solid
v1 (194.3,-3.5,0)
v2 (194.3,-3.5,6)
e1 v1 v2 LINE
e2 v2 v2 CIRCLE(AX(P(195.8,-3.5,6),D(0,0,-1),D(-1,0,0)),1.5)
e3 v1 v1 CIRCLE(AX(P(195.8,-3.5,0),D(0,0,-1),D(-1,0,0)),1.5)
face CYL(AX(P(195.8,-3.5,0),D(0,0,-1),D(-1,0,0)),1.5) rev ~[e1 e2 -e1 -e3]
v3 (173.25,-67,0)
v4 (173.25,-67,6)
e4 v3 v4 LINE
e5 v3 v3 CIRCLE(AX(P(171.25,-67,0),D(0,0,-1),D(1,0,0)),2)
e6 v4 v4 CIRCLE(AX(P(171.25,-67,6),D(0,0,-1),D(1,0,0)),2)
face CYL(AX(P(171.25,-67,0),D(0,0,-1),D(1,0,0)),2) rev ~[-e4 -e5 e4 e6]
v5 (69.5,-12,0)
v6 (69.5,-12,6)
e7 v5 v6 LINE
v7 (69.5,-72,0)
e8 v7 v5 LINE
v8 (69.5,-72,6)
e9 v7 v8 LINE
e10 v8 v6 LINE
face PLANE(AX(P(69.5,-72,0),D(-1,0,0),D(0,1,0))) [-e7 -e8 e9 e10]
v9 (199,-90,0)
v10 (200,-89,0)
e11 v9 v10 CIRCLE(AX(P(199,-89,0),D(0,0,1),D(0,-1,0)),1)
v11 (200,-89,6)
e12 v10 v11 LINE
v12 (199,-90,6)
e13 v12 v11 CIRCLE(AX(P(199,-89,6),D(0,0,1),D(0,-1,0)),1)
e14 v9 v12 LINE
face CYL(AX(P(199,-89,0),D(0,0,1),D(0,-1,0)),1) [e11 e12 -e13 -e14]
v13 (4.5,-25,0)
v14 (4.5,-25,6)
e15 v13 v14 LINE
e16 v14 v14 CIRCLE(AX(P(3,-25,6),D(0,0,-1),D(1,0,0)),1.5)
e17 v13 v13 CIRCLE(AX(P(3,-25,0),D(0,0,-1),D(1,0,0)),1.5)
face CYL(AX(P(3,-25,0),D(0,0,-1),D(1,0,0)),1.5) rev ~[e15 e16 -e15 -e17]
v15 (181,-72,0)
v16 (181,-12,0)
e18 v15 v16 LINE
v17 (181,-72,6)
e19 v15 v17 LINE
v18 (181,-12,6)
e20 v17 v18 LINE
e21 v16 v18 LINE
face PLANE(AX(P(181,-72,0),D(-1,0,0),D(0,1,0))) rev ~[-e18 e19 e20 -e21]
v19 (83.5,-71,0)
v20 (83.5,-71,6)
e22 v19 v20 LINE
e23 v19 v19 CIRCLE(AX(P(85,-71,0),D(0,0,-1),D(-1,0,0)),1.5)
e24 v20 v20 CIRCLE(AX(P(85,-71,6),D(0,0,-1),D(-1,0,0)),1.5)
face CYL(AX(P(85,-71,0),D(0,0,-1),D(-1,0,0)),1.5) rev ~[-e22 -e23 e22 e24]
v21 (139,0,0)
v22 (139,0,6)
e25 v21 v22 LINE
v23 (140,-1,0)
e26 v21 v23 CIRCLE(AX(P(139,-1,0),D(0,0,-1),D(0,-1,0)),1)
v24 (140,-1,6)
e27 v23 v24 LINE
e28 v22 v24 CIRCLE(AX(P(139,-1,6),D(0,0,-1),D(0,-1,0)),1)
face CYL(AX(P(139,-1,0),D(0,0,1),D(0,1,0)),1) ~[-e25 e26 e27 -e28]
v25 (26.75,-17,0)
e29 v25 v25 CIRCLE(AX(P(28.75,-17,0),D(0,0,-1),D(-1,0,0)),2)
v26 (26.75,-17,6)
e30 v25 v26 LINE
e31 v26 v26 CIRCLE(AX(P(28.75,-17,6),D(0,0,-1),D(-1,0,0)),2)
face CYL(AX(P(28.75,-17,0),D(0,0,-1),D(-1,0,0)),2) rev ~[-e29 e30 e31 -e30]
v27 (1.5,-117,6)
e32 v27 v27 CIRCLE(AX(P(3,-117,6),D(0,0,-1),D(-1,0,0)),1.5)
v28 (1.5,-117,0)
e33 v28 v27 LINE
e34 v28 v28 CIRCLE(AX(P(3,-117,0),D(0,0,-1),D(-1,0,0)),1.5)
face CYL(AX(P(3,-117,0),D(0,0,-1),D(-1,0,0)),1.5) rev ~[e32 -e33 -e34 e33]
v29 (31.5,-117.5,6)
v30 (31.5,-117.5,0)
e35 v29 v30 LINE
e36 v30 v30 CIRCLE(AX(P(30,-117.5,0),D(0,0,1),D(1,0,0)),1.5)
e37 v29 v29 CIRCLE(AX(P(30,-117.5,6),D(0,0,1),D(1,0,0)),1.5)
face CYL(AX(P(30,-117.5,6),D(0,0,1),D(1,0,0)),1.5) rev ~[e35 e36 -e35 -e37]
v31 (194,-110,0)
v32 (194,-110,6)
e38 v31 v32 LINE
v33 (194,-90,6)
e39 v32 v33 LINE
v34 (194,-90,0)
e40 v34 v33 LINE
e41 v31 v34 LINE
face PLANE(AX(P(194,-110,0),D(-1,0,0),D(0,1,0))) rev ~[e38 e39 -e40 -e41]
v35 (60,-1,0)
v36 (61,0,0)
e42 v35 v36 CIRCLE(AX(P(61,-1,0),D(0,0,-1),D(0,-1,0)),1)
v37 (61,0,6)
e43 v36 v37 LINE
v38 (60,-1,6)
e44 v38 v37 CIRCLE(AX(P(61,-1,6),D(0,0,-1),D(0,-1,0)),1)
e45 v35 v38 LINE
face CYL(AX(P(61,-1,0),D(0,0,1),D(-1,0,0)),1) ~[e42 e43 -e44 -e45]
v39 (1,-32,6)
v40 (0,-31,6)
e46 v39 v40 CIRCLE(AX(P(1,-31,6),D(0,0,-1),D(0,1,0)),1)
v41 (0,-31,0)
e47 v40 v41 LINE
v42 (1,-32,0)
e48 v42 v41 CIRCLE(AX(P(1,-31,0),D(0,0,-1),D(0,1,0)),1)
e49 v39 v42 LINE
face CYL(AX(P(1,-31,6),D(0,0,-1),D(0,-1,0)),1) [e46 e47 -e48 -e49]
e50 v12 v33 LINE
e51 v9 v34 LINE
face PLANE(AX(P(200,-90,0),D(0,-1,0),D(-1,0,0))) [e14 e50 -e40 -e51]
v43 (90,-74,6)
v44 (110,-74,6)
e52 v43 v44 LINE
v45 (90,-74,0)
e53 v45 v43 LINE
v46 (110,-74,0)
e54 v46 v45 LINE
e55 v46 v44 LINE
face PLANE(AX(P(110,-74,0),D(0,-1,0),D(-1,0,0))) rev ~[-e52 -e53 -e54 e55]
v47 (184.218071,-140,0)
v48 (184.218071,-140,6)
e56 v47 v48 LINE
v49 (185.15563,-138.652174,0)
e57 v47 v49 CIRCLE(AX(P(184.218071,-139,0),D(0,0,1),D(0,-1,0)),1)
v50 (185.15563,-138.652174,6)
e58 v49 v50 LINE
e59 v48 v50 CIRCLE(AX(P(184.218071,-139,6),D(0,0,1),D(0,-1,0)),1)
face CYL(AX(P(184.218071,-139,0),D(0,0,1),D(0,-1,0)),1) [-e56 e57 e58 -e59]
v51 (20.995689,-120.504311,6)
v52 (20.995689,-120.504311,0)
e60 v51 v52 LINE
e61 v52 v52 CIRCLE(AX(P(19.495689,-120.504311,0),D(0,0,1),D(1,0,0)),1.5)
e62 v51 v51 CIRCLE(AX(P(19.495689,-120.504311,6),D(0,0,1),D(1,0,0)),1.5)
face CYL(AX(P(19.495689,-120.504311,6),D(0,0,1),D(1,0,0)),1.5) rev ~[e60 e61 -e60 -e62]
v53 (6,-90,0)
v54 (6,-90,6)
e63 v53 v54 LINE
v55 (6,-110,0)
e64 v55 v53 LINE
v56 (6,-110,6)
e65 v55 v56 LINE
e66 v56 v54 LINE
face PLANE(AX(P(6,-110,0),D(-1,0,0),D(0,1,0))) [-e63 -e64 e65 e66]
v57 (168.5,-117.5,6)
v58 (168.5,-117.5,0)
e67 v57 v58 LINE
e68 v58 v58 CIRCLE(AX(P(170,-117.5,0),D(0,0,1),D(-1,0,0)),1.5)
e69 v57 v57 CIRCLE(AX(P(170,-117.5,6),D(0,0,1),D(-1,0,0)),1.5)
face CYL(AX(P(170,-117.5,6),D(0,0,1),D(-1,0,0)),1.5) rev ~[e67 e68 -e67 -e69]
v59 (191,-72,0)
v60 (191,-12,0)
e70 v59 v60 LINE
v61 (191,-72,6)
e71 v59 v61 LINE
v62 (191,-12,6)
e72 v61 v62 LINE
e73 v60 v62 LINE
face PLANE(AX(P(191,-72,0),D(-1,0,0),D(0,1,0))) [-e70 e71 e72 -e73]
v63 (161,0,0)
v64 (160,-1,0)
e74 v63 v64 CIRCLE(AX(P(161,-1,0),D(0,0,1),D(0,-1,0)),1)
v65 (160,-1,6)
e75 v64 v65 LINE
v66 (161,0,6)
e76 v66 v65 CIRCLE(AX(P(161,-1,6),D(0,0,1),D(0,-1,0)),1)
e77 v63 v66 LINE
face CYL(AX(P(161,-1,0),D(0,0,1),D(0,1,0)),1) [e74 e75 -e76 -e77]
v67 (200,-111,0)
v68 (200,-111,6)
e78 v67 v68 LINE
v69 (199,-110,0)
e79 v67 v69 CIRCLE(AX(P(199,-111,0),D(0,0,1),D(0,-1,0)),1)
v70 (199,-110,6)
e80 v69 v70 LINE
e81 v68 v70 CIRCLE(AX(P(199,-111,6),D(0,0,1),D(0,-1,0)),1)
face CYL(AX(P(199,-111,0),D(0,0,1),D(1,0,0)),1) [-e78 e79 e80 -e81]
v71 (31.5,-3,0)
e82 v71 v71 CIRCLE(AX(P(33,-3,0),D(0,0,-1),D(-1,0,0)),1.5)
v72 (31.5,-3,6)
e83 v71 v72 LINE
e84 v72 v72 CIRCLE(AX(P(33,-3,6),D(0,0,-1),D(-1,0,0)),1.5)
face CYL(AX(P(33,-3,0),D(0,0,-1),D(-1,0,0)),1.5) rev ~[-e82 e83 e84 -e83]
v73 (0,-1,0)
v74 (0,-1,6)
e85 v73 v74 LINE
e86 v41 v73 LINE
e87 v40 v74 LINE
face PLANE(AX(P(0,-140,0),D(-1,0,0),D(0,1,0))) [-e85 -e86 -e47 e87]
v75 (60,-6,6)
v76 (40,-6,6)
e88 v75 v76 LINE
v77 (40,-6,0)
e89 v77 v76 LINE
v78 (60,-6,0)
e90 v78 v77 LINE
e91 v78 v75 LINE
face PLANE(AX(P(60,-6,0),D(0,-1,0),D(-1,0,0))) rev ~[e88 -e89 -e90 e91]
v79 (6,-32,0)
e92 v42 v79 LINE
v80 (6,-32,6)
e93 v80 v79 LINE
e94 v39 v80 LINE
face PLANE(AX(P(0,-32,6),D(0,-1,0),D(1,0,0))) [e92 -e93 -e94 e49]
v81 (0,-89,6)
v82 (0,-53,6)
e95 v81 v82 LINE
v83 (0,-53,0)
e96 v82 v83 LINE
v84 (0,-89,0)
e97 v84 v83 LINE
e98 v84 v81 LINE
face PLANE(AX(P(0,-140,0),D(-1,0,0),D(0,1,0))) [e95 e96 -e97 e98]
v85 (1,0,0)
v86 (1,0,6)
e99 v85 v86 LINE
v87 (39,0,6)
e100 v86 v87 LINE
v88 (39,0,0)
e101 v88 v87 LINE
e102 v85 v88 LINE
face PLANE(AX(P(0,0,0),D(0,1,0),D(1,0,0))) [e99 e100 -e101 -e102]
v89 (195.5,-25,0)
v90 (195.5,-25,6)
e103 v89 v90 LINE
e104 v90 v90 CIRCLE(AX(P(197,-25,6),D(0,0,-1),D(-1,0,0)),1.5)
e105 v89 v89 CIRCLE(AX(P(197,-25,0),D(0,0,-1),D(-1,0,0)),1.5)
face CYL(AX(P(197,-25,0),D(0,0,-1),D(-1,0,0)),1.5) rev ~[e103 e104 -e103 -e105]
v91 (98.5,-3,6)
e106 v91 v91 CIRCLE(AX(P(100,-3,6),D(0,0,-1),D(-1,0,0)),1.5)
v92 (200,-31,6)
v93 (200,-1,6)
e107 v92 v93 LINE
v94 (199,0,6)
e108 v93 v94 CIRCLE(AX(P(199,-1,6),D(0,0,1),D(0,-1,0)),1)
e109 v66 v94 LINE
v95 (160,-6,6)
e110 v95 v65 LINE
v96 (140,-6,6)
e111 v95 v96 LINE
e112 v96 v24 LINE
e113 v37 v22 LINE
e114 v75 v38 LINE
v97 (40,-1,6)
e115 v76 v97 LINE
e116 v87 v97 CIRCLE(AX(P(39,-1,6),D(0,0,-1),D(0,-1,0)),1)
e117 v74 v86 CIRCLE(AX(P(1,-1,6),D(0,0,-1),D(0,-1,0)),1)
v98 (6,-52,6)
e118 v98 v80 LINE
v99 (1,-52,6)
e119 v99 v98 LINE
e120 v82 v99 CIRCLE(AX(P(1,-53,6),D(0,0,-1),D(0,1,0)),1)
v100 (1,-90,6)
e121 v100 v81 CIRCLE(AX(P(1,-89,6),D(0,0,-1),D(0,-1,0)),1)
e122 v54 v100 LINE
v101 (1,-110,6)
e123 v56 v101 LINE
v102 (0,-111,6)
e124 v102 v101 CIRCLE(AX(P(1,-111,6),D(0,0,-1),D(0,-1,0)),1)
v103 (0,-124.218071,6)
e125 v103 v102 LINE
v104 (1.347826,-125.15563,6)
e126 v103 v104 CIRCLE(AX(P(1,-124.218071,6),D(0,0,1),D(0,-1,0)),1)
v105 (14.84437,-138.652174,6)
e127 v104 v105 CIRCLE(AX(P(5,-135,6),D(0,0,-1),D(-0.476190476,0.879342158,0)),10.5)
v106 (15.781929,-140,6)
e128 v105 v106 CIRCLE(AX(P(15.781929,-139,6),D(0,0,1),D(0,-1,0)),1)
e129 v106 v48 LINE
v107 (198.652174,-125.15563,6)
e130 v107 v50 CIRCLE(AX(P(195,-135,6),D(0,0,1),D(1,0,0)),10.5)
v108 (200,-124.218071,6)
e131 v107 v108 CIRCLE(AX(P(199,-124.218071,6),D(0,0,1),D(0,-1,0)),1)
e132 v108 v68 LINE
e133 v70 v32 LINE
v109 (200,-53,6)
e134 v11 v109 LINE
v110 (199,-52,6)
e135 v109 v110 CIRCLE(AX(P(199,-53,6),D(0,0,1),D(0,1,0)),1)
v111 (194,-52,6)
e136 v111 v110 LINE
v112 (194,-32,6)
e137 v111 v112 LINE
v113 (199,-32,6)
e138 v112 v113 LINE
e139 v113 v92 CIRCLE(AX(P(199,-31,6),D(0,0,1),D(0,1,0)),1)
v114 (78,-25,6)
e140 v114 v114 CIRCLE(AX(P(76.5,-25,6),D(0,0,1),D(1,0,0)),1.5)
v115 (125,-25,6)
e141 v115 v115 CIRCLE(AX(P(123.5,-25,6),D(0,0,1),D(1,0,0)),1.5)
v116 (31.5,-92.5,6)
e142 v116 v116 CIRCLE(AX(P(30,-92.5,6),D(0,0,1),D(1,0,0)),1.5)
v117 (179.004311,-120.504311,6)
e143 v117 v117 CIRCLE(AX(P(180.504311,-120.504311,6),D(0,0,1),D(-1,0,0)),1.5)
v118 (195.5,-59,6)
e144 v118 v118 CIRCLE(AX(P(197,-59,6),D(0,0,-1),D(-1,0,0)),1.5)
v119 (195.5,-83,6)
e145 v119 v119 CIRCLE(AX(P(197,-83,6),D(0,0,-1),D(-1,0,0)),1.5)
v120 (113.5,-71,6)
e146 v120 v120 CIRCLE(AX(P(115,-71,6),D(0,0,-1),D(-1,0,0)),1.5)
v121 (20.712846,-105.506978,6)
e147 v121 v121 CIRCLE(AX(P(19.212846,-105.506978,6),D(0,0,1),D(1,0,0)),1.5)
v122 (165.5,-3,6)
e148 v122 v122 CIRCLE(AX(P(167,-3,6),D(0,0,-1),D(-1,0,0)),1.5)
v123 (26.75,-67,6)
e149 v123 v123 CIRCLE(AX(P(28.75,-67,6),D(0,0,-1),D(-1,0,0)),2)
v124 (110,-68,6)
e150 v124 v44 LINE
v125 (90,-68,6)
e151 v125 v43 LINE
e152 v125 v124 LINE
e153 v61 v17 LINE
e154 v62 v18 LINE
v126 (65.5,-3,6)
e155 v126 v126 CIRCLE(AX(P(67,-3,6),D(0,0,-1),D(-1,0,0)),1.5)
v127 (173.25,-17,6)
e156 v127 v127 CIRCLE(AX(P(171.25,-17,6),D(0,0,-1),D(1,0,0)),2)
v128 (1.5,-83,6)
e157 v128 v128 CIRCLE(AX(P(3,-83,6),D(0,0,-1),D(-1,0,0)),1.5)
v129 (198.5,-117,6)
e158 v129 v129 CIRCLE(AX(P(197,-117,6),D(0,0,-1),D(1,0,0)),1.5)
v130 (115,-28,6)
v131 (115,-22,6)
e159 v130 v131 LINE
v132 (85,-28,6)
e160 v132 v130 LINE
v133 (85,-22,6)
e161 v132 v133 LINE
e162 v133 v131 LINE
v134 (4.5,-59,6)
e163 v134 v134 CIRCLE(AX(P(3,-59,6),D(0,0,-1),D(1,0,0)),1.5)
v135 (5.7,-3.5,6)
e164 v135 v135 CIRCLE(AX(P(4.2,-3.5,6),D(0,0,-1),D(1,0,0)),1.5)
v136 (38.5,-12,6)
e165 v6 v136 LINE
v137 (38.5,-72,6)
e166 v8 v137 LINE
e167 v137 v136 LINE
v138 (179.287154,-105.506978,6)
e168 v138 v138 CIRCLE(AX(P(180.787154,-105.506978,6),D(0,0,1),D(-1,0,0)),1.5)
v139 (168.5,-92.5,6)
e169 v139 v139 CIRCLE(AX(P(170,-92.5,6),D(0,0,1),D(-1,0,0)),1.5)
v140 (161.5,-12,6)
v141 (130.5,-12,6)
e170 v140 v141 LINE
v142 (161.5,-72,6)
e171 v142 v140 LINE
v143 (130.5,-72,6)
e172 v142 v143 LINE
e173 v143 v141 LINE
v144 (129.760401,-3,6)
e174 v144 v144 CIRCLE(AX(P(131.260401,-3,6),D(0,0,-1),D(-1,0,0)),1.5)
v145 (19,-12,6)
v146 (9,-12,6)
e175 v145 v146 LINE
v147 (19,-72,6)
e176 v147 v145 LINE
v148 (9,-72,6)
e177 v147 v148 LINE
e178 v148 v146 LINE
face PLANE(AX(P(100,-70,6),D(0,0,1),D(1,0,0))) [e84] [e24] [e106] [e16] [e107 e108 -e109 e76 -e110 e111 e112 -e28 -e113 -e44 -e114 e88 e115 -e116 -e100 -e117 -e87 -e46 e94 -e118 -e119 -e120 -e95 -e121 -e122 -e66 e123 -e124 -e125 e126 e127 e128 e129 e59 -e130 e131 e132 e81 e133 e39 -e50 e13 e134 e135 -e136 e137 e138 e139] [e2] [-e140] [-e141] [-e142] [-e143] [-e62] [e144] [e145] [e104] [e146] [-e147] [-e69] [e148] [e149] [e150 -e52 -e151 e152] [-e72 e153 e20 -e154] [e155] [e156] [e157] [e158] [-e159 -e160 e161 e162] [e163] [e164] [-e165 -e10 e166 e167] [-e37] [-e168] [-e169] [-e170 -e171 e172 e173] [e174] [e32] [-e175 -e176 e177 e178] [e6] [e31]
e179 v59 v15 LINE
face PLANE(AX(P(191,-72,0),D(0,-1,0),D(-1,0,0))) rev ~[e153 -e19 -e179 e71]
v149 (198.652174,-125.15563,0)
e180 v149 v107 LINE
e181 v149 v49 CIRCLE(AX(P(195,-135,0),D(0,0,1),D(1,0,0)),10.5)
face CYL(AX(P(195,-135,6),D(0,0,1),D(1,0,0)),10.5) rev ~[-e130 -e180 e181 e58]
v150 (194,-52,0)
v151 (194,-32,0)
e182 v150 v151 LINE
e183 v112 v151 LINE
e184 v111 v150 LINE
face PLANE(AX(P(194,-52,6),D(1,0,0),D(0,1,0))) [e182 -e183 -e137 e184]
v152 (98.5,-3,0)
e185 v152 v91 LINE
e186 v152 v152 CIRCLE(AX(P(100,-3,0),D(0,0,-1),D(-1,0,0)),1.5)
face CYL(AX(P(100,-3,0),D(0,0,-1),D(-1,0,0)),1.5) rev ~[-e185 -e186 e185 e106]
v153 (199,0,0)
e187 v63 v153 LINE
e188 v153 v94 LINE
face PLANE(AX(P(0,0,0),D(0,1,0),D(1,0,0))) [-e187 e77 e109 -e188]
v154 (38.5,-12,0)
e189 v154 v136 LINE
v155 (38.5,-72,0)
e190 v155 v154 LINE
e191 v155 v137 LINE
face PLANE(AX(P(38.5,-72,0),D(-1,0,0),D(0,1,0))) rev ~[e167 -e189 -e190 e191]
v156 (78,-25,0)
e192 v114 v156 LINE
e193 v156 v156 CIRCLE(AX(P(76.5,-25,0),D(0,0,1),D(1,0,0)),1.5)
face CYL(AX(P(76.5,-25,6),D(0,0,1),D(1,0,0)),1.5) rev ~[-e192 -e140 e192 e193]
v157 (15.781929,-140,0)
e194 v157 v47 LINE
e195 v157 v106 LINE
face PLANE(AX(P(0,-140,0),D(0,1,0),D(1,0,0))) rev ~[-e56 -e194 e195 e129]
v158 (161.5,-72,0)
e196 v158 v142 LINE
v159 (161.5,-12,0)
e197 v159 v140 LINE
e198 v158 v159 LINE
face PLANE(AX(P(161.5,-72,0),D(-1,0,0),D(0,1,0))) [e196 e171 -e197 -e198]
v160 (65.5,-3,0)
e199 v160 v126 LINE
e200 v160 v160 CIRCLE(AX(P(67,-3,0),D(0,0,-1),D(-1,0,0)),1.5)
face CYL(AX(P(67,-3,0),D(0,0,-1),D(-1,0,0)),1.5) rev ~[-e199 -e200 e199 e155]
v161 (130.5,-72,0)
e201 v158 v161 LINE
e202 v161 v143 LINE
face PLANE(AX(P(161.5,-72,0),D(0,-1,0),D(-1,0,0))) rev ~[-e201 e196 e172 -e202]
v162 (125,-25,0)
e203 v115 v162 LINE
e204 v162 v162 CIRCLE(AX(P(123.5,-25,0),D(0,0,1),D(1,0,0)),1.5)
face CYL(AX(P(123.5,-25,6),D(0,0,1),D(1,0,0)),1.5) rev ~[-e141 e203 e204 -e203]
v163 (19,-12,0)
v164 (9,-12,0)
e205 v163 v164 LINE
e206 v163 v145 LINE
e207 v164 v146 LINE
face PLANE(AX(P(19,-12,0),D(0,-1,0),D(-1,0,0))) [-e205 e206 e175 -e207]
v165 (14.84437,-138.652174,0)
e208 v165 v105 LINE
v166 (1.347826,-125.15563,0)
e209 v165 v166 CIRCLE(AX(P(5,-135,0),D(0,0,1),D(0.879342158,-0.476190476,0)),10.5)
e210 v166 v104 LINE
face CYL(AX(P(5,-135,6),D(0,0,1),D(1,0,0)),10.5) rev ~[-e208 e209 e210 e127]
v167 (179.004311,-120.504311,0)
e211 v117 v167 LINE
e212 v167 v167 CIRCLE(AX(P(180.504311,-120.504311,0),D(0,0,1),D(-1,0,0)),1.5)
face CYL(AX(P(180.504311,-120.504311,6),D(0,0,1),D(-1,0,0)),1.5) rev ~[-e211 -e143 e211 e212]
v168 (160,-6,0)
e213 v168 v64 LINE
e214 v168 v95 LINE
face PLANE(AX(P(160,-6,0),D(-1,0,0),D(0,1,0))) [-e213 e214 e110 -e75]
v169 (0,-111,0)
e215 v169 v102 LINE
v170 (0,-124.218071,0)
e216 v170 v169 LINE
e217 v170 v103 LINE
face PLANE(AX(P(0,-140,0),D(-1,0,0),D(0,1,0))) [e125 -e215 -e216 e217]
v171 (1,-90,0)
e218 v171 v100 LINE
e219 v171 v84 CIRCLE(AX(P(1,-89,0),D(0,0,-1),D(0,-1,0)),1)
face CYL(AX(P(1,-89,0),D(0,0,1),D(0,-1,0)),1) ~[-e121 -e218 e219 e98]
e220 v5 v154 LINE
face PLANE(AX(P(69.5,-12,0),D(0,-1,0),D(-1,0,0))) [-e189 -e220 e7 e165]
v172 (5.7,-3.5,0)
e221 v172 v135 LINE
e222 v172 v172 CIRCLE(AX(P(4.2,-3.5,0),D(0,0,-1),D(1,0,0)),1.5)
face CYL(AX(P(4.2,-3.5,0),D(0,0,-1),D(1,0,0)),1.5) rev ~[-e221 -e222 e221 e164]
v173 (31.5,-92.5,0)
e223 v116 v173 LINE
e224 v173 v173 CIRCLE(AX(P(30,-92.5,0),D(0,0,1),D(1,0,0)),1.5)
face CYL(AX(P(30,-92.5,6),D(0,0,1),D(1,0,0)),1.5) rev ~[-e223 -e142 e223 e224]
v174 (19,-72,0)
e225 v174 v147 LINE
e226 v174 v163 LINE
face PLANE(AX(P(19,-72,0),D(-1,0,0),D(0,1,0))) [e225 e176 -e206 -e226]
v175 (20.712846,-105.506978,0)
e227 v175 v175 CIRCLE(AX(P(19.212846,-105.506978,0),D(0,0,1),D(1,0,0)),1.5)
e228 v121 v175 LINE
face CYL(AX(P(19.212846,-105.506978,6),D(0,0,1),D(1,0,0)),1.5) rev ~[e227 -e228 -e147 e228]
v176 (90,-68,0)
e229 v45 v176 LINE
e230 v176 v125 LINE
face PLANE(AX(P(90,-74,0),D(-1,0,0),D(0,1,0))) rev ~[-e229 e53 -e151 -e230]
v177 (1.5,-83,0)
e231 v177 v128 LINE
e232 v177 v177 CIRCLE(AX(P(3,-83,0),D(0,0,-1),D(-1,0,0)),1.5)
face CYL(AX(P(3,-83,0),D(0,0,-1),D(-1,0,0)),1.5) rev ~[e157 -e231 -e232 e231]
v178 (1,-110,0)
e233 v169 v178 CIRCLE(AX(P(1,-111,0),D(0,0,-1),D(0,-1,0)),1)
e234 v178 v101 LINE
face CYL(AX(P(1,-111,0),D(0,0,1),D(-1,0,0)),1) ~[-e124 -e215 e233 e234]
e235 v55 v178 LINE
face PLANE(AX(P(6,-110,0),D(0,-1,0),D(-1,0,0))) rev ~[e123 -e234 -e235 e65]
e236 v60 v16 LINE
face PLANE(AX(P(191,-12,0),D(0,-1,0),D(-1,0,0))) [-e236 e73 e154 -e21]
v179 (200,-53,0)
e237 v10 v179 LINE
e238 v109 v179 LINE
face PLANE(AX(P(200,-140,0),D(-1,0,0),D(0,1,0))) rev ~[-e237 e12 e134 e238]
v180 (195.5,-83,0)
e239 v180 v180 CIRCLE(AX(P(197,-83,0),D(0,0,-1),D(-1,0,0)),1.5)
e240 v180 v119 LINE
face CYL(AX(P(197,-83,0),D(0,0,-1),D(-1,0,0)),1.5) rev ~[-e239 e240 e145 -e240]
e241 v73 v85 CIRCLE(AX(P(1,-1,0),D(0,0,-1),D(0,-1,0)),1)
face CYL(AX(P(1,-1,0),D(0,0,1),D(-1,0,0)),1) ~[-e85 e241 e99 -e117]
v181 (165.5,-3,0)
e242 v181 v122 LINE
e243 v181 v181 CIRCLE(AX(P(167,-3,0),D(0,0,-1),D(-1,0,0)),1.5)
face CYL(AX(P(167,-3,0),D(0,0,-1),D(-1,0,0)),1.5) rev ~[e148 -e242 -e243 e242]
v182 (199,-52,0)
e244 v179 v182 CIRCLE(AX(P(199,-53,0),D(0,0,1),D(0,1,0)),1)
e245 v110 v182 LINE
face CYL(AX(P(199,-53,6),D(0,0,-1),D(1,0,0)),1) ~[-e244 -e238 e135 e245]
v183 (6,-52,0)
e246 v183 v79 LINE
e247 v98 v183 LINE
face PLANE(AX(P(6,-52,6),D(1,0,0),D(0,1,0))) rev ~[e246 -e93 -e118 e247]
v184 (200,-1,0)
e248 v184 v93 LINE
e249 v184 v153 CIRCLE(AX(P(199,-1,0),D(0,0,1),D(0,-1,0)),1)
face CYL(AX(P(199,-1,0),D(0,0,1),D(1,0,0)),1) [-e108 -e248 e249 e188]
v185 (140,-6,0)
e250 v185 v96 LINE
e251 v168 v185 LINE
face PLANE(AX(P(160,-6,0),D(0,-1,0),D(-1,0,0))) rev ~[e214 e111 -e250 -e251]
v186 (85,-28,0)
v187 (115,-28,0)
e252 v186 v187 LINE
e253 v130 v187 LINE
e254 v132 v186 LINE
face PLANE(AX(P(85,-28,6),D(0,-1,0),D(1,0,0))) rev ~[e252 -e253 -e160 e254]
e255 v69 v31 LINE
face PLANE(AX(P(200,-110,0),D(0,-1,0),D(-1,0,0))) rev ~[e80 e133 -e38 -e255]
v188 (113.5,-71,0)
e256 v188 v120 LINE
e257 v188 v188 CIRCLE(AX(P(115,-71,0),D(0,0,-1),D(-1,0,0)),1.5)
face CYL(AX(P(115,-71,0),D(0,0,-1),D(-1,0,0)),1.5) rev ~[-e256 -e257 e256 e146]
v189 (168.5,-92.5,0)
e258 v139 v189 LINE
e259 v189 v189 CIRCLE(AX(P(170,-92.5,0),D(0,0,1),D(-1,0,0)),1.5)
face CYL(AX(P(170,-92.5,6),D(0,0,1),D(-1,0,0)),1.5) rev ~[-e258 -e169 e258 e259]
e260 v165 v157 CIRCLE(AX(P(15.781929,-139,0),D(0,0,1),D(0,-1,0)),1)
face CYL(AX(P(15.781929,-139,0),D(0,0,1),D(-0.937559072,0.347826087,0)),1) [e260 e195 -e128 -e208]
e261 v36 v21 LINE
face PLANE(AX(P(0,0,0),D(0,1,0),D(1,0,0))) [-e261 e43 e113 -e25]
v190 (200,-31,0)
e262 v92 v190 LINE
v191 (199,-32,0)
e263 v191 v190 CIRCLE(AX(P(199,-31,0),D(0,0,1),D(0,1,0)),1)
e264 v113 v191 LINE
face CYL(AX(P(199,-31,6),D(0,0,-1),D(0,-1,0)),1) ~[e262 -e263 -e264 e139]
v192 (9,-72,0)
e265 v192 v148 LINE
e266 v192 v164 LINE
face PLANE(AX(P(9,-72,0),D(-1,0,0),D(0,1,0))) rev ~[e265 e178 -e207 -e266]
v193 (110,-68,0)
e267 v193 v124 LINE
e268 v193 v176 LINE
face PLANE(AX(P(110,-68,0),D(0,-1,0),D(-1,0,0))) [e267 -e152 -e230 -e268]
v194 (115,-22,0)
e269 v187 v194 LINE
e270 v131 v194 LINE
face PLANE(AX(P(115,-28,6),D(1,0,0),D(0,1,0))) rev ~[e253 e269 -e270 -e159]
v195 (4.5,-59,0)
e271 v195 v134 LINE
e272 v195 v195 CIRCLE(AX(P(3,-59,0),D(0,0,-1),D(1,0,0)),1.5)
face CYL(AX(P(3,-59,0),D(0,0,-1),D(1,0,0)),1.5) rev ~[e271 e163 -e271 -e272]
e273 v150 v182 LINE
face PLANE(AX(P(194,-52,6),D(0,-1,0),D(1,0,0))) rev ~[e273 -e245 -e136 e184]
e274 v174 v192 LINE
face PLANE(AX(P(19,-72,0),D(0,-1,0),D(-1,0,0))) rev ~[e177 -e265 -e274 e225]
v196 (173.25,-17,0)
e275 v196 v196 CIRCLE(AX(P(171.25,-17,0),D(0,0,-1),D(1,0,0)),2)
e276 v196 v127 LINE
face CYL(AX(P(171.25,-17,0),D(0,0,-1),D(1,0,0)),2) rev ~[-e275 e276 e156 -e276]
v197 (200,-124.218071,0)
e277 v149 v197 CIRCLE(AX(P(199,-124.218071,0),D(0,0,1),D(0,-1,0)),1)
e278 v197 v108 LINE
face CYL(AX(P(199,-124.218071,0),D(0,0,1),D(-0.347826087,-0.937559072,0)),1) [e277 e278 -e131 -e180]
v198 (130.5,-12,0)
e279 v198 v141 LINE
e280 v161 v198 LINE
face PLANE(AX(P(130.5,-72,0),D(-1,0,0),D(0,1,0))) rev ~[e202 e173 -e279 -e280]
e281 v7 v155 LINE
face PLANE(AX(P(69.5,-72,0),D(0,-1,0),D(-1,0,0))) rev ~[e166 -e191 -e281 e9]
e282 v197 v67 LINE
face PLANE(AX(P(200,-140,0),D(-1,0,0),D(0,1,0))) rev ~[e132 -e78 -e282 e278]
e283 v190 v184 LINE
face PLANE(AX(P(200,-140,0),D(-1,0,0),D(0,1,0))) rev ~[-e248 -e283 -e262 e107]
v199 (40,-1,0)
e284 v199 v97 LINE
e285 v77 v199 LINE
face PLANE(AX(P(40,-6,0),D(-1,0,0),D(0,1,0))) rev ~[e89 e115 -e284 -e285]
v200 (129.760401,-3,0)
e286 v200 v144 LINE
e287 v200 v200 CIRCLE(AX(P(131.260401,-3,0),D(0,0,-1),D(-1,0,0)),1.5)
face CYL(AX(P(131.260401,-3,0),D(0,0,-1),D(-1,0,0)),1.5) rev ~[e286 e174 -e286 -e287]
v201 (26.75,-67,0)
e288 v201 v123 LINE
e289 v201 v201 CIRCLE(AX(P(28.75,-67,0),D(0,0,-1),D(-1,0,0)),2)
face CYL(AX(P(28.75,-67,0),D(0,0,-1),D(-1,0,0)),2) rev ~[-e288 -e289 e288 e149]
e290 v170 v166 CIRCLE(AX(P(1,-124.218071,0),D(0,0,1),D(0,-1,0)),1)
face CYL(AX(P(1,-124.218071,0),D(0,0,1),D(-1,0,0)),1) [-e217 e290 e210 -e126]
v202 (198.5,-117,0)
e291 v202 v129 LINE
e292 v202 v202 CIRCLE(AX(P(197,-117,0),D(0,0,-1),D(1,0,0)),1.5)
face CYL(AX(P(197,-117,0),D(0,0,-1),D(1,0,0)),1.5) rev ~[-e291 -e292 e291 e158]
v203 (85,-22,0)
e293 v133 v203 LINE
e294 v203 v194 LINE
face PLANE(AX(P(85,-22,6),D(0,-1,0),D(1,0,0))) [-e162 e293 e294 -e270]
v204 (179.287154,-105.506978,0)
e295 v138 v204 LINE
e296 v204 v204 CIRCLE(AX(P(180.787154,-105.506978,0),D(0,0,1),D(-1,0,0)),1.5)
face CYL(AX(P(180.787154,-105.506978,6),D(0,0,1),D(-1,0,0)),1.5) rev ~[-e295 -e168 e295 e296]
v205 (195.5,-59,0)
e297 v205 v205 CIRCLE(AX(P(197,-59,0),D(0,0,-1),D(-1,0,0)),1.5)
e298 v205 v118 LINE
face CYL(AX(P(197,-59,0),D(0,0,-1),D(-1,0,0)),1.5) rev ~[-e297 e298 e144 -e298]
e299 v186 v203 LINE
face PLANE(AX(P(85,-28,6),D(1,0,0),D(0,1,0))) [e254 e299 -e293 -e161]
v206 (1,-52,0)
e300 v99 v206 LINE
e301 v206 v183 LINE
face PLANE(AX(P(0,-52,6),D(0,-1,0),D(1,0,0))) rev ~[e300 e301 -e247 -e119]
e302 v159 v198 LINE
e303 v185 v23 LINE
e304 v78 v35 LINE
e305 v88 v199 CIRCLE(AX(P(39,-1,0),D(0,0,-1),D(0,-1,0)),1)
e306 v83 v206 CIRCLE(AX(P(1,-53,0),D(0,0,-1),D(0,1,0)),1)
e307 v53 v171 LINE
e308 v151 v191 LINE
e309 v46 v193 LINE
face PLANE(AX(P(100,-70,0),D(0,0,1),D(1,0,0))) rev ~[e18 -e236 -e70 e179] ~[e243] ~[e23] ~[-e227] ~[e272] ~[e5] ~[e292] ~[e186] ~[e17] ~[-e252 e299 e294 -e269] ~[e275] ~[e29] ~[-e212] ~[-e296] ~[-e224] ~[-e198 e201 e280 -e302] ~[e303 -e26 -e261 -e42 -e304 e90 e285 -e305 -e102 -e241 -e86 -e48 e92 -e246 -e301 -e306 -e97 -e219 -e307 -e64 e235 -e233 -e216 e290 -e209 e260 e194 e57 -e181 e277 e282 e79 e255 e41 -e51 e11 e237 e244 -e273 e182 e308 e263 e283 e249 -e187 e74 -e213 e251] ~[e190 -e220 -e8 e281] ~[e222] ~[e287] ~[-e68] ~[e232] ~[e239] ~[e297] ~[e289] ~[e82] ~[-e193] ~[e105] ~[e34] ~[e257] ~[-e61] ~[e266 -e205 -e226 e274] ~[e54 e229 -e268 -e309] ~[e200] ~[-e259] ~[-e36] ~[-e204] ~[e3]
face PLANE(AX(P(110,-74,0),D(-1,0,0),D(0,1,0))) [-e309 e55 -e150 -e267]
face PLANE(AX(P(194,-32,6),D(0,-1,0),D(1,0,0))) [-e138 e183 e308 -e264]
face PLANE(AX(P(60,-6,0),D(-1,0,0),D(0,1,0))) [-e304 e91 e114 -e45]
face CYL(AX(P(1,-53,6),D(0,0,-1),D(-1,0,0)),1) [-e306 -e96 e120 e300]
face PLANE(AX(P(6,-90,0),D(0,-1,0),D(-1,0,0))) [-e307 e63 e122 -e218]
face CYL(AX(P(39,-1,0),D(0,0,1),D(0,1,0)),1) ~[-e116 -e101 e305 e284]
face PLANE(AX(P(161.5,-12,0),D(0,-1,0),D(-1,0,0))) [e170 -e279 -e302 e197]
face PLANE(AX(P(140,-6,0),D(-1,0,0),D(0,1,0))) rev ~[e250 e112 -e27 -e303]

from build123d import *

# Parameters (mm, degrees)
ESQUISSE1_W              = 200
ESQUISSE1_H              = 140
BOSS_EXTRU_1_DEPTH       = 6
ESQUISSE8_W              = 31
ESQUISSE8_H              = 60
ESQUISSE8_W_2            = 10
ENL_V_MAT_EXTRU_2_DEPTH  = 6
ESQUISSE9_W              = 20
ESQUISSE9_H              = 6
ENL_V_MAT_EXTRU_3_DEPTH  = 6
ESQUISSE10_W             = 6
ESQUISSE10_H             = 20
ENL_V_MAT_EXTRU_4_DEPTH  = 6
ESQUISSE14_W             = 30
ESQUISSE14_H             = 6
ENL_V_MAT_EXTRU_7_DEPTH  = 6
ESQUISSE15_R             = 10.5
ENL_V_MAT_EXTRU_8_DEPTH  = 6
ESQUISSE19_R             = 2
ENL_V_MAT_EXTRU_11_DEPTH = 245.204832057
ESQUISSE20_R             = 1.5
ENL_V_MAT_EXTRU_12_DEPTH = 245.204832057
ESQUISSE21_R             = 1.5
ESQUISSE21_W             = 20
ESQUISSE21_H             = 6
ENL_V_MAT_EXTRU_13_DEPTH = 10
ESQUISSE23_R             = 1.5
ENL_V_MAT_EXTRU_15_DEPTH = 6
ESQUISSE16_R             = 1.5
ENL_V_MAT_EXTRU_9_DEPTH  = 6
ESQUISSE28_W             = 6
ESQUISSE28_H             = 20
ENL_V_MAT_EXTRU_17_DEPTH = 245.204832057
ESQUISSE29_R             = 1.5
ENL_V_MAT_EXTRU_18_DEPTH = 245.204832057
ESQUISSE35_R             = 1.5
ENL_V_MAT_EXTRU_21_DEPTH = 6
CONG_1_R                 = 1


with BuildPart() as part:
    # Esquisse1 → Boss.-Extru.1 (new body)
    with BuildSketch(Plane.XY):
        with Locations((100, -70)):
            Rectangle(ESQUISSE1_W, ESQUISSE1_H)
    extrude(amount=BOSS_EXTRU_1_DEPTH)

    # Esquisse8 → Enlèv. mat.-Extru.2 (cut)
    with BuildSketch(Plane(origin=(0, 0, 0), x_dir=(-1, 0, 0), z_dir=(0, 0, -1))):
        with Locations((-146, -42)):
            Rectangle(ESQUISSE8_W, ESQUISSE8_H)
        with Locations((-186, -42)):
            Rectangle(ESQUISSE8_W_2, ESQUISSE8_H)
        with Locations((-14, -42)):
            Rectangle(ESQUISSE8_W_2, ESQUISSE8_H)
        with Locations((-54, -42)):
            Rectangle(ESQUISSE8_W, ESQUISSE8_H)
    extrude(amount=-ENL_V_MAT_EXTRU_2_DEPTH, mode=Mode.SUBTRACT)

    # Esquisse9 → Enlèv. mat.-Extru.3 (cut)
    with BuildSketch(Plane(origin=(0, 0, 0), x_dir=(-1, 0, 0), z_dir=(0, 0, -1))):
        with Locations((-150, -3)):
            Rectangle(ESQUISSE9_W, ESQUISSE9_H)
        with Locations((-50, -3)):
            Rectangle(ESQUISSE9_W, ESQUISSE9_H)
    extrude(amount=-ENL_V_MAT_EXTRU_3_DEPTH, mode=Mode.SUBTRACT)

    # Esquisse10 → Enlèv. mat.-Extru.4 (cut)
    with BuildSketch(Plane(origin=(0, 0, 0), x_dir=(-1, 0, 0), z_dir=(0, 0, -1))):
        with Locations((-197, -100)):
            Rectangle(ESQUISSE10_W, ESQUISSE10_H)
        with Locations((-3, -100)):
            Rectangle(ESQUISSE10_W, ESQUISSE10_H)
    extrude(amount=-ENL_V_MAT_EXTRU_4_DEPTH, mode=Mode.SUBTRACT)

    # Esquisse14 → Enlèv. mat.-Extru.7 (cut)
    with BuildSketch(Plane.XY.offset(6)):
        with Locations((100, -25)):
            Rectangle(ESQUISSE14_W, ESQUISSE14_H)
    extrude(amount=-ENL_V_MAT_EXTRU_7_DEPTH, mode=Mode.SUBTRACT)

    # Esquisse15 → Enlèv. mat.-Extru.8 (cut)
    with BuildSketch(Plane.XY.offset(6)):
        with Locations((195, -135)):
            Circle(ESQUISSE15_R)
        with Locations((5, -135)):
            Circle(ESQUISSE15_R)
    extrude(amount=-ENL_V_MAT_EXTRU_8_DEPTH, mode=Mode.SUBTRACT)

    # Esquisse19 → Enlèv. mat.-Extru.11 (cut, through all)
    with BuildSketch(Plane(origin=(0, 0, 0), x_dir=(-1, 0, 0), z_dir=(0, 0, -1))):
        with Locations((-28.75, -67)):
            Circle(ESQUISSE19_R)
        with Locations((-28.75, -17)):
            Circle(ESQUISSE19_R)
        with Locations(Location((-171.25, -17, 0), (0, 0, 180))):
            Circle(ESQUISSE19_R)
        with Locations(Location((-171.25, -67, 0), (0, 0, 180))):
            Circle(ESQUISSE19_R)
    extrude(amount=-ENL_V_MAT_EXTRU_11_DEPTH, mode=Mode.SUBTRACT)

    # Esquisse20 → Enlèv. mat.-Extru.12 (cut, through all)
    with BuildSketch(Plane.XY.offset(6)):
        with Locations((19.495689014, -120.504310986)):
            Circle(ESQUISSE20_R)
        with Locations((19.212846302, -105.506977889)):
            Circle(ESQUISSE20_R)
        with Locations(Location((180.787153698, -105.506977889, 0), (0, 0, 180))):
            Circle(ESQUISSE20_R)
        with Locations((30, -117.5)):
            Circle(ESQUISSE20_R)
        with Locations((30, -92.5)):
            Circle(ESQUISSE20_R)
        with Locations(Location((180.504310986, -120.504310986, 0), (0, 0, 180))):
            Circle(ESQUISSE20_R)
        with Locations(Location((170, -92.5, 0), (0, 0, 180))):
            Circle(ESQUISSE20_R)
        with Locations(Location((170, -117.5, 0), (0, 0, 180))):
            Circle(ESQUISSE20_R)
        with Locations((76.5, -25)):
            Circle(ESQUISSE20_R)
        with Locations((123.5, -25)):
            Circle(ESQUISSE20_R)
    extrude(amount=-ENL_V_MAT_EXTRU_12_DEPTH, mode=Mode.SUBTRACT)

    # Esquisse21 → Enlèv. mat.-Extru.13 (cut)
    with BuildSketch(Plane(origin=(0, 0, 0), x_dir=(-1, 0, 0), z_dir=(0, 0, -1))):
        with Locations((-85, -71)):
            Circle(ESQUISSE21_R)
        with Locations((-115, -71)):
            Circle(ESQUISSE21_R)
        with Locations((-100, -71)):
            Rectangle(ESQUISSE21_W, ESQUISSE21_H)
    extrude(amount=-ENL_V_MAT_EXTRU_13_DEPTH, mode=Mode.SUBTRACT)

    # Esquisse23 → Enlèv. mat.-Extru.15 (cut)
    with BuildSketch(Plane(origin=(0, 0, 0), x_dir=(-1, 0, 0), z_dir=(0, 0, -1))):
        with Locations(Location((-4.2, -3.5, 0), (0, 0, 180))):
            Circle(ESQUISSE23_R)
        with Locations((-195.8, -3.5)):
            Circle(ESQUISSE23_R)
    extrude(amount=-ENL_V_MAT_EXTRU_15_DEPTH, mode=Mode.SUBTRACT)

    # Esquisse16 → Enlèv. mat.-Extru.9 (cut)
    with BuildSketch(Plane(origin=(0, 0, 0), x_dir=(-1, 0, 0), z_dir=(0, 0, -1))):
        with Locations((-3, -83)):
            Circle(ESQUISSE16_R)
        with Locations(Location((-197, -117, 0), (0, 0, 180))):
            Circle(ESQUISSE16_R)
        with Locations((-197, -83)):
            Circle(ESQUISSE16_R)
        with Locations((-3, -117)):
            Circle(ESQUISSE16_R)
    extrude(amount=-ENL_V_MAT_EXTRU_9_DEPTH, mode=Mode.SUBTRACT)

    # Esquisse28 → Enlèv. mat.-Extru.17 (cut, through all)
    with BuildSketch(Plane.XY.offset(6)):
        with Locations((3, -42)):
            Rectangle(ESQUISSE28_W, ESQUISSE28_H)
        with Locations((197, -42)):
            Rectangle(ESQUISSE28_W, ESQUISSE28_H)
    extrude(amount=-ENL_V_MAT_EXTRU_17_DEPTH, mode=Mode.SUBTRACT)

    # Esquisse29 → Enlèv. mat.-Extru.18 (cut, through all)
    with BuildSketch(Plane(origin=(0, 0, 0), x_dir=(-1, 0, 0), z_dir=(0, 0, -1))):
        with Locations((-197, -25)):
            Circle(ESQUISSE29_R)
        with Locations((-197, -59)):
            Circle(ESQUISSE29_R)
        with Locations(Location((-3, -59, 0), (0, 0, 180))):
            Circle(ESQUISSE29_R)
        with Locations(Location((-3, -25, 0), (0, 0, 180))):
            Circle(ESQUISSE29_R)
    extrude(amount=-ENL_V_MAT_EXTRU_18_DEPTH, mode=Mode.SUBTRACT)

    # Esquisse35 → Enlèv. mat.-Extru.21 (cut)
    with BuildSketch(Plane(origin=(0, 0, 0), x_dir=(-1, 0, 0), z_dir=(0, 0, -1))):
        with Locations((-167, -3)):
            Circle(ESQUISSE35_R)
        with Locations((-131.260401336, -3)):
            Circle(ESQUISSE35_R)
        with Locations((-100, -3)):
            Circle(ESQUISSE35_R)
        with Locations((-67, -3)):
            Circle(ESQUISSE35_R)
        with Locations((-33, -3)):
            Circle(ESQUISSE35_R)
    extrude(amount=-ENL_V_MAT_EXTRU_21_DEPTH, mode=Mode.SUBTRACT)

    # Congé1
    cong_1_edges = [part.edges().sort_by_distance(p)[0] for p in [
        (200, -110, 3),
        (200, -90, 3),
        (0, -90, 3),
        (0, -110, 3),
        (185.766907344, -140, 3),
        (200, -125.766907344, 3),
        (14.233092656, -140, 3),
        (0, -125.766907344, 3),
        (0, -52, 3),
        (0, -32, 3),
        (200, -32, 3),
        (200, -52, 3),
        (0, 0, 3),
        (200, 0, 3),
        (160, 0, 3),
        (140, 0, 3),
        (60, 0, 3),
        (40, 0, 3),
    ]]
    fillet(cong_1_edges, radius=CONG_1_R)


solid = part.part
